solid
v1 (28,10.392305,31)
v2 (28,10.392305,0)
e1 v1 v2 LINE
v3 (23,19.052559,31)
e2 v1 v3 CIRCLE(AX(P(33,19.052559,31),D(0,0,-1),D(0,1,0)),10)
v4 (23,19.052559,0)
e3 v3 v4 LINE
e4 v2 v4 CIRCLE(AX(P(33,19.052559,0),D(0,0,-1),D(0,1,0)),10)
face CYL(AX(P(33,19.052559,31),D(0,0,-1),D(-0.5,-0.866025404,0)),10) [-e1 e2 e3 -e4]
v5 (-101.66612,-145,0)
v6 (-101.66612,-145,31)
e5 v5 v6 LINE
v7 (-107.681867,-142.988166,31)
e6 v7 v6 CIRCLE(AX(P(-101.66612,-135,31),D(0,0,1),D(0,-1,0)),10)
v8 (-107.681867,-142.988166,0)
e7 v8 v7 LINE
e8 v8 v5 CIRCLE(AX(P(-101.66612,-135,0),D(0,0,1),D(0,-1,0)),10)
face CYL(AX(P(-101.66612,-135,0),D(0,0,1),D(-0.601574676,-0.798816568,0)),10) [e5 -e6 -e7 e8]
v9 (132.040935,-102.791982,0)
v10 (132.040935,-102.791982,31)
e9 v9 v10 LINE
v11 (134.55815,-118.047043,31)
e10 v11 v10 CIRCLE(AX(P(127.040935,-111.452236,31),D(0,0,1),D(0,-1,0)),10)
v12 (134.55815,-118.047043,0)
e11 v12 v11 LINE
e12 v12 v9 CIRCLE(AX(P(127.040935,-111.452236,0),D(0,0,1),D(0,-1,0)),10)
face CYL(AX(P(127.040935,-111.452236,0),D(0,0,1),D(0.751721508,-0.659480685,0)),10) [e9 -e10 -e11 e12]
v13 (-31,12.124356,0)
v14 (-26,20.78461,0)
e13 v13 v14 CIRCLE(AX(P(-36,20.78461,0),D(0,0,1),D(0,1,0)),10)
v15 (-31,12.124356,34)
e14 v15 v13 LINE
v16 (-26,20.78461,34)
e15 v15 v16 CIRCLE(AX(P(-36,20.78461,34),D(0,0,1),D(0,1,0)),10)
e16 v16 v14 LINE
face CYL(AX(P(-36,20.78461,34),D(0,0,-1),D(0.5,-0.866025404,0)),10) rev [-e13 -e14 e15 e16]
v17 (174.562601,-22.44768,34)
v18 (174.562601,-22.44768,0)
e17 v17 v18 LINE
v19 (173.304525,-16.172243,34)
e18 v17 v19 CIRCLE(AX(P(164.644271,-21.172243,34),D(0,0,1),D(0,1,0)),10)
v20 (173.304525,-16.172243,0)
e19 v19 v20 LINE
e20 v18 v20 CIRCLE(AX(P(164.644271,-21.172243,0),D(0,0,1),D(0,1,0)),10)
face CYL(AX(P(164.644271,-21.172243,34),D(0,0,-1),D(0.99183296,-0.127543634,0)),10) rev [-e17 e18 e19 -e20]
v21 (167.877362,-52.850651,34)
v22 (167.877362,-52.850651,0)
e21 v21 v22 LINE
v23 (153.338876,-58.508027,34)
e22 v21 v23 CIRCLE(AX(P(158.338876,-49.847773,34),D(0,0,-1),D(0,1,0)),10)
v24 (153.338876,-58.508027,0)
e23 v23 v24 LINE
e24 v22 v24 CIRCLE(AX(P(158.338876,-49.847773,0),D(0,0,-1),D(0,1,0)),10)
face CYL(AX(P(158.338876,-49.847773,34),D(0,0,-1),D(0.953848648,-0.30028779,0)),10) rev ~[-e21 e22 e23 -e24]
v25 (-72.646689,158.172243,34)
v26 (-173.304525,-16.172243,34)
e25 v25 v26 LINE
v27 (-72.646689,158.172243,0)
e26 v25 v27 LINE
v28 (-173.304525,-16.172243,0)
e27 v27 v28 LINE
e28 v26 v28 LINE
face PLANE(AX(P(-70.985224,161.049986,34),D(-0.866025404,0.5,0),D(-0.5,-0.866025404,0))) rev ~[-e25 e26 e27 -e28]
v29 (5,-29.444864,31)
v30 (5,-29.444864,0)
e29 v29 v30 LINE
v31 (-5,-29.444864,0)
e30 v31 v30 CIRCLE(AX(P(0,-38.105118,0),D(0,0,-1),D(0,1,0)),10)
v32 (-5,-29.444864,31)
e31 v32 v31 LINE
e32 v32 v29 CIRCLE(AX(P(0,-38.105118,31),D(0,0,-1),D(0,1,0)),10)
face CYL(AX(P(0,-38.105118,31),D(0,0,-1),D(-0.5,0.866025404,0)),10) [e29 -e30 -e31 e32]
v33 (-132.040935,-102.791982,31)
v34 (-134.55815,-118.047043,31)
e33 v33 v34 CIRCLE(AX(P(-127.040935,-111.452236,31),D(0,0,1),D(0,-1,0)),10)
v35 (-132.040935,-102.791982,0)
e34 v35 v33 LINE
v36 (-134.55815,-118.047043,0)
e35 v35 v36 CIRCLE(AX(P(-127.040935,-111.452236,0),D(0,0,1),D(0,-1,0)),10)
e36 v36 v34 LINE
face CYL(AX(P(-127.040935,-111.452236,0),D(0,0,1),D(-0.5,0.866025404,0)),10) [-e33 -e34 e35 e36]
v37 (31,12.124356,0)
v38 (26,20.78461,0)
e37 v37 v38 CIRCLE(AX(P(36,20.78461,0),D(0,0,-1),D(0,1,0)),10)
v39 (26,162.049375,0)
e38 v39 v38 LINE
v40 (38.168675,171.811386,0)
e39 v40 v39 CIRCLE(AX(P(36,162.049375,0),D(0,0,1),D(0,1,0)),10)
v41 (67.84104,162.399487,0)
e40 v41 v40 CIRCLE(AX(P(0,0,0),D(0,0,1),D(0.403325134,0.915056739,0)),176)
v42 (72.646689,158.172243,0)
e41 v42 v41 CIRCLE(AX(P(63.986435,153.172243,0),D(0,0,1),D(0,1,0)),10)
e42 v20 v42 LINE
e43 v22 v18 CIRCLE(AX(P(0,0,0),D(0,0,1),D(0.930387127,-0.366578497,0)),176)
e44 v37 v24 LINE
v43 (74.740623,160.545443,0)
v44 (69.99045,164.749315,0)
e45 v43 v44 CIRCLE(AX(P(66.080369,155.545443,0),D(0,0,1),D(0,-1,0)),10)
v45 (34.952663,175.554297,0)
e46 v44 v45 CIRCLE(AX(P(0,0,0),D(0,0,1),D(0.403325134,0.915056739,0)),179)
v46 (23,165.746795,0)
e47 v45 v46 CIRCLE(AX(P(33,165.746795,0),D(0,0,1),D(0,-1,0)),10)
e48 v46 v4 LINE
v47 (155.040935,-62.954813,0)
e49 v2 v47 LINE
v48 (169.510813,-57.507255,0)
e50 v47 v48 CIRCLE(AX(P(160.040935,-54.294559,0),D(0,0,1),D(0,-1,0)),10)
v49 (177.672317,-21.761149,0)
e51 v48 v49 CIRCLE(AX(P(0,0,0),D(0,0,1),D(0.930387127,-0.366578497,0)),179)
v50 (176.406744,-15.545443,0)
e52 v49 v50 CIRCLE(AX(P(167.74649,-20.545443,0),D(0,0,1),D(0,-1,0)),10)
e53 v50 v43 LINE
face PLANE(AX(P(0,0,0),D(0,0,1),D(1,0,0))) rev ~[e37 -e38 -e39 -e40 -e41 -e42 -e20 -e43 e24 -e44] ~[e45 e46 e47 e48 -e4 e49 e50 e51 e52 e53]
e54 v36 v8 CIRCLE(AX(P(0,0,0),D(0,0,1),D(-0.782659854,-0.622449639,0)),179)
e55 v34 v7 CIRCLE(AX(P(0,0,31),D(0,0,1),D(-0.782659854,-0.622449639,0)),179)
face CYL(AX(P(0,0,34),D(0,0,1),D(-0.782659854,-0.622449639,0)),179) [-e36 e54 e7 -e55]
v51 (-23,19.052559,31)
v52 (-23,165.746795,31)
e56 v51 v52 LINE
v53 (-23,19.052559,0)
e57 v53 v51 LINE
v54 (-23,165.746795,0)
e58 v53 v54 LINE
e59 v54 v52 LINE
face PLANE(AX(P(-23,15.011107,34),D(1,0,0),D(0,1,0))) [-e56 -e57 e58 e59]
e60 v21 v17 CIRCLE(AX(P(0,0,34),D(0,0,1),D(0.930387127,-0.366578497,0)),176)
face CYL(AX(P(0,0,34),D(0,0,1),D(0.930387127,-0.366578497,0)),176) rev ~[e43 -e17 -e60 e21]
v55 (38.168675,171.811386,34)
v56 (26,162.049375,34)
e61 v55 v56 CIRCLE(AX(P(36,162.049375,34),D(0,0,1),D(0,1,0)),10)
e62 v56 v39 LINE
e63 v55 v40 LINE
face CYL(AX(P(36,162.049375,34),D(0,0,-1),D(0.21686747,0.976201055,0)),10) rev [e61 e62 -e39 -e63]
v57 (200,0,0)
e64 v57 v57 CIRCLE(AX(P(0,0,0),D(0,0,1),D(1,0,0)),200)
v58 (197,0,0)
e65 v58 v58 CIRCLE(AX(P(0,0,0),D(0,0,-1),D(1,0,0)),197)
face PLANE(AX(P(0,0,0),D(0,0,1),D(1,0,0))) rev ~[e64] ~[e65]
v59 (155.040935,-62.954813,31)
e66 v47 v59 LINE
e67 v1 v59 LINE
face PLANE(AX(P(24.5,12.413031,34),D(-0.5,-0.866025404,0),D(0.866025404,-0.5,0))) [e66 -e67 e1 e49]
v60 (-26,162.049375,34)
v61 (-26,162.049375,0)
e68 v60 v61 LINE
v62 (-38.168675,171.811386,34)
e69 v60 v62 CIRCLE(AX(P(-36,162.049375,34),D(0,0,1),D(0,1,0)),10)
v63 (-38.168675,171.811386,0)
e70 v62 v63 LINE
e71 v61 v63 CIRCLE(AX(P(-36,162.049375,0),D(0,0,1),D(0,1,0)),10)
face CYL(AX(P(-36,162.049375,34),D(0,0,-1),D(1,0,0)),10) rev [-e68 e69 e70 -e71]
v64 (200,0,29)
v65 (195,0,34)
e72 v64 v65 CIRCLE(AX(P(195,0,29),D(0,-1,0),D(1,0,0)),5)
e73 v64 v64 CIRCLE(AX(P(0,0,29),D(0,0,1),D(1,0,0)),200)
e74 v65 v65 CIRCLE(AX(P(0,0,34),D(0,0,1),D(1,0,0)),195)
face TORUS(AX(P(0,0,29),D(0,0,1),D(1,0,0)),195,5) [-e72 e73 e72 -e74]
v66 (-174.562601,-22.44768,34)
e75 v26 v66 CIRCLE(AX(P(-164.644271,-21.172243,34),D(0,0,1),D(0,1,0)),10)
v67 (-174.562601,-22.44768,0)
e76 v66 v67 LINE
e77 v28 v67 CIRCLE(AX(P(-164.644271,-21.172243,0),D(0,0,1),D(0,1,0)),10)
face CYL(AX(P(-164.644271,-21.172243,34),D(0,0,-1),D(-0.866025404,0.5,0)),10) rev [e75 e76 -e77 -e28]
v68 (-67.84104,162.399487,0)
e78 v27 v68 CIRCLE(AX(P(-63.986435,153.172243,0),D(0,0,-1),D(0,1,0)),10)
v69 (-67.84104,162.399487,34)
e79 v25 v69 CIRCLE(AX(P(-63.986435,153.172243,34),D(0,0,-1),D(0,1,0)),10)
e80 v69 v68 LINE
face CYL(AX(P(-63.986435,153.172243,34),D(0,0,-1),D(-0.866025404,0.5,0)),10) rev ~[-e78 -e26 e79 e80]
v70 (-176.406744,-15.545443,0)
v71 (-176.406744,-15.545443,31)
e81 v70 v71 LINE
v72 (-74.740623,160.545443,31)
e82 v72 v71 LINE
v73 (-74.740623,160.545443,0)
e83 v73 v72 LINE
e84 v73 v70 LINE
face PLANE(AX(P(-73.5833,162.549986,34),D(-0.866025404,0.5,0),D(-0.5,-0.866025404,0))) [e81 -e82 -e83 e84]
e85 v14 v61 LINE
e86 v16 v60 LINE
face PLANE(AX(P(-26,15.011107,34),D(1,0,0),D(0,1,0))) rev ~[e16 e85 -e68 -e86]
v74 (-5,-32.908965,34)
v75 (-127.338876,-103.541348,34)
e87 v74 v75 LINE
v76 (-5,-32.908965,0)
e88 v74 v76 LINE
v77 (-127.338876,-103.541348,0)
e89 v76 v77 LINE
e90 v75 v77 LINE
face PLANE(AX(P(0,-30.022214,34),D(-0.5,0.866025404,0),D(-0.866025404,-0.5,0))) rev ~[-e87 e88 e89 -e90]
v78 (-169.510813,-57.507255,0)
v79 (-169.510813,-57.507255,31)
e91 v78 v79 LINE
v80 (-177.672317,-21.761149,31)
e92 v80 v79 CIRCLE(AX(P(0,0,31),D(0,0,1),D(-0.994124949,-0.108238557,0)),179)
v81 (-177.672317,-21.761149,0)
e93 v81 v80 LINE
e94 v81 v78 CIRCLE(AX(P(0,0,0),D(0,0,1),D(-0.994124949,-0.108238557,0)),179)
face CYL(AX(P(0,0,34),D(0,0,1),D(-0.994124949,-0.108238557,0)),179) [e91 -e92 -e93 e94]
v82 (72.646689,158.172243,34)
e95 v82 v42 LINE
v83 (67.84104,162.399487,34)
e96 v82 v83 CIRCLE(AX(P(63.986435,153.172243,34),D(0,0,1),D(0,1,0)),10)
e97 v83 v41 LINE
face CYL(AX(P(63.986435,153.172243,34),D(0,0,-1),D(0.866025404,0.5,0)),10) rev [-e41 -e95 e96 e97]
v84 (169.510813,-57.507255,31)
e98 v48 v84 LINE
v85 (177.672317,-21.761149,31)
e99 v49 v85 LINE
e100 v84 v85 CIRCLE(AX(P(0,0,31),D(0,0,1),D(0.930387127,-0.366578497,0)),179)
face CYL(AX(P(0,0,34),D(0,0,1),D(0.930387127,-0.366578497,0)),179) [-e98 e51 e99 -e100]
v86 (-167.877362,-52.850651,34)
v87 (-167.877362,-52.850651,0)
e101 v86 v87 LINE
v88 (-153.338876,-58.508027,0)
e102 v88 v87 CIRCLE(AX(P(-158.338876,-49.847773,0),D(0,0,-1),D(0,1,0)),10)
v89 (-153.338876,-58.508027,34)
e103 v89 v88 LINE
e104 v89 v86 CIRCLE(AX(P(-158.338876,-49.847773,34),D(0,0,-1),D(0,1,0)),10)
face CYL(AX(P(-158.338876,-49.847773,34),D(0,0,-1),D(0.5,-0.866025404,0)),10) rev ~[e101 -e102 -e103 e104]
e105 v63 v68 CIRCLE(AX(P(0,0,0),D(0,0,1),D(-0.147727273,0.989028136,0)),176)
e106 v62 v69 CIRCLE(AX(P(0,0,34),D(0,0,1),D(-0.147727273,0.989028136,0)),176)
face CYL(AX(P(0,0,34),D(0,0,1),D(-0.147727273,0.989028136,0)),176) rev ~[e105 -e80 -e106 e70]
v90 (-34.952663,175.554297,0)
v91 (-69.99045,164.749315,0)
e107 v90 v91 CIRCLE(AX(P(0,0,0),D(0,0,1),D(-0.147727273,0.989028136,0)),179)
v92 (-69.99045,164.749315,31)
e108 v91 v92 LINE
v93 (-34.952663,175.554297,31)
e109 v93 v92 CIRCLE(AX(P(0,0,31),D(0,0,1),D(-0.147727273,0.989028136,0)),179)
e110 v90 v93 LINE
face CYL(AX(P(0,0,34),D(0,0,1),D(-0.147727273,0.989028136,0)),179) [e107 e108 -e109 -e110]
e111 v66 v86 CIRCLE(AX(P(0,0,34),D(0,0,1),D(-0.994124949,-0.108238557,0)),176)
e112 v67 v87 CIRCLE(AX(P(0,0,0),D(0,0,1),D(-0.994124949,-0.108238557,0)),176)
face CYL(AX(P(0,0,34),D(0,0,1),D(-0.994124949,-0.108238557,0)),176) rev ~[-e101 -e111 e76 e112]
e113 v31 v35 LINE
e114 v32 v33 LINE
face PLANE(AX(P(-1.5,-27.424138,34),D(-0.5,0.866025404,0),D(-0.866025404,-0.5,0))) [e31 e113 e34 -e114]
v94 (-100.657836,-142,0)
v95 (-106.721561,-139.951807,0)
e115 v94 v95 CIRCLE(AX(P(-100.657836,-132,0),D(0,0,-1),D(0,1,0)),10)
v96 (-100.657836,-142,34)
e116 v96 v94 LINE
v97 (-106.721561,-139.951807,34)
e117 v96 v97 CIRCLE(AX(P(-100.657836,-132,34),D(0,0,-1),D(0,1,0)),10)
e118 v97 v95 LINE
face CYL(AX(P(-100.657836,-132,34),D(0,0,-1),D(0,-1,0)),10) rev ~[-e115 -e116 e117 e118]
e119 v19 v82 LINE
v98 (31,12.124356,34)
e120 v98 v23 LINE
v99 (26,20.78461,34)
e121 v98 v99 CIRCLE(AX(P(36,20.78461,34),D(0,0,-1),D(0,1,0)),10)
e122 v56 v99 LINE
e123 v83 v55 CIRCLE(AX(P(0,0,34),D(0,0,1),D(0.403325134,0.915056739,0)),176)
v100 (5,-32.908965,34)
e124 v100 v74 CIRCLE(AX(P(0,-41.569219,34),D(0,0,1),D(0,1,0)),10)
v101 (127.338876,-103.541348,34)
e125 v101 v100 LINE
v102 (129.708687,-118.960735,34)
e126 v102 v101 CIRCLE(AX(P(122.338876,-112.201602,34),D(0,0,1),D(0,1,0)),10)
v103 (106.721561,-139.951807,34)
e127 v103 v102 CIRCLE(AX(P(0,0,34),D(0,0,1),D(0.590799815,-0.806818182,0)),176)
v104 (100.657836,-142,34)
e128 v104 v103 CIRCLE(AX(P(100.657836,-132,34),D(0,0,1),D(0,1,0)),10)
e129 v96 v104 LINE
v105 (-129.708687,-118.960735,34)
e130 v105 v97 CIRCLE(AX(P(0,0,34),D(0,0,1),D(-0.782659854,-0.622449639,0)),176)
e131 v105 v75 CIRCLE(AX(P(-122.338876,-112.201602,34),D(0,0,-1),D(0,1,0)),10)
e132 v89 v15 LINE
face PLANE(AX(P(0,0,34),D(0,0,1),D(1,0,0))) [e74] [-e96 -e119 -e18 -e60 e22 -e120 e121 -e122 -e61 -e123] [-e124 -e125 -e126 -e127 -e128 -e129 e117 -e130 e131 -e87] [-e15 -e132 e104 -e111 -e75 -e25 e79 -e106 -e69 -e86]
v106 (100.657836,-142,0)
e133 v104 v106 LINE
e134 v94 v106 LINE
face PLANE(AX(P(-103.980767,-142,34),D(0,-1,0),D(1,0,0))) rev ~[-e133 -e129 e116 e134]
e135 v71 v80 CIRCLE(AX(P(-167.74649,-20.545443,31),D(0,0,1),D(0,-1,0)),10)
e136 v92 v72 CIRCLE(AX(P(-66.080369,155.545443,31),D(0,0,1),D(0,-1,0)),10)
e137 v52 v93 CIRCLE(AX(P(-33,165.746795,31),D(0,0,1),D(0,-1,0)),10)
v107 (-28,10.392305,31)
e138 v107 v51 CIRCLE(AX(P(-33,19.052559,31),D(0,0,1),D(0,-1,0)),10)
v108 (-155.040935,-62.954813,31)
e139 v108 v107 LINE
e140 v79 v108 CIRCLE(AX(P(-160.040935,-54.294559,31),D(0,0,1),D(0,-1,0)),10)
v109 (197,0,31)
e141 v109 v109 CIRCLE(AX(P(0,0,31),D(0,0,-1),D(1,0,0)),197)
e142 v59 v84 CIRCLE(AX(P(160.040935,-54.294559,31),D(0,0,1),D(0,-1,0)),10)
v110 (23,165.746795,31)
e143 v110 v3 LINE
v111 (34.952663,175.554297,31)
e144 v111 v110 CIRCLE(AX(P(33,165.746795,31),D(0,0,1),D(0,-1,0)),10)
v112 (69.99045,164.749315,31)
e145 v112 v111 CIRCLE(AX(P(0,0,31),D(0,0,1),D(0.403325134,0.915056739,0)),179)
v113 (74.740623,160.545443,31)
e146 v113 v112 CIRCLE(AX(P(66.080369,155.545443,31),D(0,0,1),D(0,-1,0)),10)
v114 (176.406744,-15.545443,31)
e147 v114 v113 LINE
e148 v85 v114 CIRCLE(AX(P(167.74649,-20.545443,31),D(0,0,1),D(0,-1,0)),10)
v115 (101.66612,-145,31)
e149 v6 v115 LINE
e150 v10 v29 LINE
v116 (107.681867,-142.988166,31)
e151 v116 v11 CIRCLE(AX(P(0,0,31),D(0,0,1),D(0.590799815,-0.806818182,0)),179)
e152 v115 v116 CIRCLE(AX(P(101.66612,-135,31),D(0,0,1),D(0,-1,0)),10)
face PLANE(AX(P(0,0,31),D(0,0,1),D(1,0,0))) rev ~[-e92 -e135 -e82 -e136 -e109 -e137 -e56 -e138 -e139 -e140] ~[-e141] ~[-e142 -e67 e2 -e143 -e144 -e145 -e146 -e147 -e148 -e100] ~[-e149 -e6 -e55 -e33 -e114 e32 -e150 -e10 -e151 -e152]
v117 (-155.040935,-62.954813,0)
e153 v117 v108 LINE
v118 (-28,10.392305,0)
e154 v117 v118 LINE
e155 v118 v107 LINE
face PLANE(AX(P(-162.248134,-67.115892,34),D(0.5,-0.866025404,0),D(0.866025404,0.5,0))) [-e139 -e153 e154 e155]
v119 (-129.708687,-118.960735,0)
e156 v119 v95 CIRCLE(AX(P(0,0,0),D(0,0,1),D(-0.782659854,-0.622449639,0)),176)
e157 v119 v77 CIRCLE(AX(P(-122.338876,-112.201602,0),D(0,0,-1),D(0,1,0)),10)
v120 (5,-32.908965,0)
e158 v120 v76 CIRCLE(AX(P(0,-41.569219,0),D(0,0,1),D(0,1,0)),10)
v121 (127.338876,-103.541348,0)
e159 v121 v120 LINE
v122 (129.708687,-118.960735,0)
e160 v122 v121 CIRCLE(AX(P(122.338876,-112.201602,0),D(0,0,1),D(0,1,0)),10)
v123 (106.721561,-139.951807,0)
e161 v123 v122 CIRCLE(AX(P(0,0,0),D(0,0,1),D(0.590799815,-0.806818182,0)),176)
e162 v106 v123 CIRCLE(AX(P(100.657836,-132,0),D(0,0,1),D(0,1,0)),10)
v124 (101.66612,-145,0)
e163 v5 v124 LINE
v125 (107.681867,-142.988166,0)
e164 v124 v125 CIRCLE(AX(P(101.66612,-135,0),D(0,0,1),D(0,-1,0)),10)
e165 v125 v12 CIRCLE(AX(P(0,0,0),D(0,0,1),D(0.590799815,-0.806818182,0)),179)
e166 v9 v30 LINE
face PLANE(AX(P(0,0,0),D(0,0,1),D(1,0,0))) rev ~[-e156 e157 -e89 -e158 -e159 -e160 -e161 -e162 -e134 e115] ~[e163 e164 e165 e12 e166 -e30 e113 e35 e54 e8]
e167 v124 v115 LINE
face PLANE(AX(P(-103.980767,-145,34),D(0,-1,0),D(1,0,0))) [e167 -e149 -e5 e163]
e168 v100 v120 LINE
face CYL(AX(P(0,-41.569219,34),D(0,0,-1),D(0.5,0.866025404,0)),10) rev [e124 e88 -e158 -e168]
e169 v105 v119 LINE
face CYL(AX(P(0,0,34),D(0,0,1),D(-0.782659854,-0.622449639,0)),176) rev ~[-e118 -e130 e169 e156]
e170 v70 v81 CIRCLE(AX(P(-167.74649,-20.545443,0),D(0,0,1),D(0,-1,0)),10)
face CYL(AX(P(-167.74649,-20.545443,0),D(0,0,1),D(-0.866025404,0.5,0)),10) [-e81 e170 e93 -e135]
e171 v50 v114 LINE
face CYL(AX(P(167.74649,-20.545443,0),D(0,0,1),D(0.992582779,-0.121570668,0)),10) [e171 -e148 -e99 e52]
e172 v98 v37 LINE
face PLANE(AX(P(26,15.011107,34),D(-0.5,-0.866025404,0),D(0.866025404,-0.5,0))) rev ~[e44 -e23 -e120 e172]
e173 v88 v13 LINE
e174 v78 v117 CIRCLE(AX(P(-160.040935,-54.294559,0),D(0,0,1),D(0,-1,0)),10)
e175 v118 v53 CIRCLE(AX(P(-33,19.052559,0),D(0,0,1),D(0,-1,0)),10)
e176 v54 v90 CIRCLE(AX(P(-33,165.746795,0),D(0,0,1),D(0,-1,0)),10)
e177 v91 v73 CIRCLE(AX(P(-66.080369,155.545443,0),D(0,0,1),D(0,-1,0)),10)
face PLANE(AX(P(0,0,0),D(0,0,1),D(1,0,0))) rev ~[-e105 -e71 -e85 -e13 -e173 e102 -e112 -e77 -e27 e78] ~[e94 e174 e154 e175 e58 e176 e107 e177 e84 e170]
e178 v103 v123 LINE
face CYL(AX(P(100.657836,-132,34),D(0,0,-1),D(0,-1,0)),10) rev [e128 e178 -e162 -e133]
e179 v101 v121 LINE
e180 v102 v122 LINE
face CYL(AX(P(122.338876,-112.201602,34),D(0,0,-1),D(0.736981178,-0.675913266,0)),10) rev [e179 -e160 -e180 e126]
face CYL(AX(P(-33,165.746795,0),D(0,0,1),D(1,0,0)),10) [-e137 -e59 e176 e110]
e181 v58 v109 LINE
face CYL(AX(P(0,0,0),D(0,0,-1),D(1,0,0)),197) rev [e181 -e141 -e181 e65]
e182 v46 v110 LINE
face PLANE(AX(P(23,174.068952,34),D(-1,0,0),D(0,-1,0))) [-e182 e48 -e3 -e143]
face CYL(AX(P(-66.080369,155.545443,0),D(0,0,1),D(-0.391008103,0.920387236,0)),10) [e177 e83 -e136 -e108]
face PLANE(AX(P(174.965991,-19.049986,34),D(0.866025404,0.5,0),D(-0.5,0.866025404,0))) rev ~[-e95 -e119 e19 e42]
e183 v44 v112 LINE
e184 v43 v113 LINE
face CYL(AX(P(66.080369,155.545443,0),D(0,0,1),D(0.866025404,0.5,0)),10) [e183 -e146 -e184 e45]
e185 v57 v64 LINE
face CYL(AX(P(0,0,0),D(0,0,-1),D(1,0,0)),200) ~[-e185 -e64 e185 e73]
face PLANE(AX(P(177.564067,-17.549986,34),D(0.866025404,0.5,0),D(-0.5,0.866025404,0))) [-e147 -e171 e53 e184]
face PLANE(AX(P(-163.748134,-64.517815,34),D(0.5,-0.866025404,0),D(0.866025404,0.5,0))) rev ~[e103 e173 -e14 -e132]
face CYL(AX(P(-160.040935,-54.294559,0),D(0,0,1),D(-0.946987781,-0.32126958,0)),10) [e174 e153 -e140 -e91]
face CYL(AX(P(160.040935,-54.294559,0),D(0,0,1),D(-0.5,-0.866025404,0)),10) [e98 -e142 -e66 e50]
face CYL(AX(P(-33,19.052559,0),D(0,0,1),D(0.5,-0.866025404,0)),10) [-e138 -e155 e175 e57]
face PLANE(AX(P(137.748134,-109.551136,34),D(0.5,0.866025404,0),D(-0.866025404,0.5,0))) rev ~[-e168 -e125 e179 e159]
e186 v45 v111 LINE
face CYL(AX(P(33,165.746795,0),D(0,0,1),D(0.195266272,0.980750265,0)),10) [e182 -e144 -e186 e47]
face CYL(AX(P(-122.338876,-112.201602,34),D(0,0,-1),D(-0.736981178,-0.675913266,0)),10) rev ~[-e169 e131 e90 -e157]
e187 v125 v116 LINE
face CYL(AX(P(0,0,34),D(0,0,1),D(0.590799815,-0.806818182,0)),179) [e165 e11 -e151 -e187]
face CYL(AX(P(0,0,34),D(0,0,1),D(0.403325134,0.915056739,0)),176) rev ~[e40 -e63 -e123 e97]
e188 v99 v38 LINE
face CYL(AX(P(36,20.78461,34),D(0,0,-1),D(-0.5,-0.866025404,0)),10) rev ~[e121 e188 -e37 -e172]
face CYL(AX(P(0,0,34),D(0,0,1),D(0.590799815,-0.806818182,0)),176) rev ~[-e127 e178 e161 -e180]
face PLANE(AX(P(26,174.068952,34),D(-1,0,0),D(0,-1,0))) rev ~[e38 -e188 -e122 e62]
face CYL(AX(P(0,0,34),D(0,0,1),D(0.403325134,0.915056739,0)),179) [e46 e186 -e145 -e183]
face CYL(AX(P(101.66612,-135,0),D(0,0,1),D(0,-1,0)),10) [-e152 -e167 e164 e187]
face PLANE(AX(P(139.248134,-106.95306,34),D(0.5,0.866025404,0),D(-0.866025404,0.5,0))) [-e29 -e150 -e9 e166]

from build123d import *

# Parameters (mm, degrees)
ESBO_O2_R             = 200
EXTRUS_O2_DEPTH       = 34
EXTRUS_O3_DEPTH       = 35
PADR_OCIRCULAR1_COUNT = 3
CASCA1_T              = -3
FILETE1_R             = 10
FILETE2_R             = 10
FILETE3_R             = 10
FILETE4_R             = 10
FILETE5_R             = 10
FILETE6_R             = 10
FILETE7_R             = 10
FILETE8_R             = 10
FILETE9_R             = 10
FILETE10_R            = 10
FILETE11_R            = 10
FILETE12_R            = 10
FILETE13_R            = 10
FILETE14_R            = 10
FILETE15_R            = 10
FILETE16_R            = 10
FILETE17_R            = 10
FILETE18_R            = 10
FILETE19_R            = 5


with BuildPart() as part:
    # Esboço2 → Extrusão2 (new body)
    with BuildSketch(Plane.XY):
        Circle(ESBO_O2_R)
    extrude(amount=EXTRUS_O2_DEPTH)

    # Esboço4 → Extrusão3 (cut, through all)
    with BuildSketch(Plane.XY.offset(34)):
        with BuildLine():
            Line((-103.980767452, -142), (103.980767452, -142))
            ThreePointArc((103.980767452, -142), (121.948545192, -126.903712812), (137.748134317, -109.551136426))
            Line((137.748134317, -109.551136426), (0, -30.022213998))
            Line((0, -30.022213998), (-137.748134317, -109.551136426))
            ThreePointArc((-137.748134317, -109.551136426), (-121.948545192, -126.903712812), (-103.980767452, -142))
        make_face()
    extrus_o3 = extrude(amount=-EXTRUS_O3_DEPTH, mode=Mode.SUBTRACT)

    # PadrãoCircular1: Extrusão3 ×3 about axis
    padr_ocircular1_axis = Axis((0, 0, 0), (0, 0, 1))
    for i in range(1, PADR_OCIRCULAR1_COUNT):
        add(extrus_o3.rotate(padr_ocircular1_axis, i * 360 / PADR_OCIRCULAR1_COUNT), mode=Mode.SUBTRACT)

    # Casca1
    casca1_openings = [part.faces().sort_by_distance(p)[0] for p in [
        (92.730670551, 53.538077605, 0),
    ]]
    offset(amount=CASCA1_T, openings=casca1_openings, kind=Kind.INTERSECTION)

    # Filete1
    filete1_edges = [part.edges().sort_by_distance(p)[0] for p in [
        (-137.748134317, -109.551136426, 17),
    ]]
    fillet(filete1_edges, radius=FILETE1_R)

    # Filete2
    filete2_edges = [part.edges().sort_by_distance(p)[0] for p in [
        (137.748134317, -109.551136426, 17),
    ]]
    fillet(filete2_edges, radius=FILETE2_R)

    # Filete3
    filete3_edges = [part.edges().sort_by_distance(p)[0] for p in [
        (-26, 174.068951855, 17),
    ]]
    fillet(filete3_edges, radius=FILETE3_R)

    # Filete4
    filete4_edges = [part.edges().sort_by_distance(p)[0] for p in [
        (-163.748134317, -64.517815429, 17),
    ]]
    fillet(filete4_edges, radius=FILETE4_R)

    # Filete5
    filete5_edges = [part.edges().sort_by_distance(p)[0] for p in [
        (26, 174.068951855, 17),
    ]]
    fillet(filete5_edges, radius=FILETE5_R)

    # Filete6
    filete6_edges = [part.edges().sort_by_distance(p)[0] for p in [
        (163.748134317, -64.517815429, 17),
    ]]
    fillet(filete6_edges, radius=FILETE6_R)

    # Filete7
    filete7_edges = [part.edges().sort_by_distance(p)[0] for p in [
        (0, -30.022213998, 17),
    ]]
    fillet(filete7_edges, radius=FILETE7_R)

    # Filete8
    filete8_edges = [part.edges().sort_by_distance(p)[0] for p in [
        (-26, 15.011106999, 17),
    ]]
    fillet(filete8_edges, radius=FILETE8_R)

    # Filete9
    filete9_edges = [part.edges().sort_by_distance(p)[0] for p in [
        (26, 15.011106999, 17),
    ]]
    fillet(filete9_edges, radius=FILETE9_R)

    # Filete10
    filete10_edges = [part.edges().sort_by_distance(p)[0] for p in [
        (-70.985223611, 161.049986119, 17),
    ]]
    fillet(filete10_edges, radius=FILETE10_R)

    # Filete11
    filete11_edges = [part.edges().sort_by_distance(p)[0] for p in [
        (-174.965991064, -19.049986119, 17),
    ]]
    fillet(filete11_edges, radius=FILETE11_R)

    # Filete12
    filete12_edges = [part.edges().sort_by_distance(p)[0] for p in [
        (-103.980767452, -142, 17),
    ]]
    fillet(filete12_edges, radius=FILETE12_R)

    # Filete13
    filete13_edges = [part.edges().sort_by_distance(p)[0] for p in [
        (103.980767452, -142, 17),
    ]]
    fillet(filete13_edges, radius=FILETE13_R)

    # Filete14
    filete14_edges = [part.edges().sort_by_distance(p)[0] for p in [
        (174.965991064, -19.049986119, 17),
    ]]
    fillet(filete14_edges, radius=FILETE14_R)

    # Filete15
    filete15_edges = [part.edges().sort_by_distance(p)[0] for p in [
        (70.985223611, 161.049986119, 17),
    ]]
    fillet(filete15_edges, radius=FILETE15_R)

    # Filete16
    filete16_edges = [part.edges().sort_by_distance(p)[0] for p in [
        (-142.233535704, -108.676682509, 15.5),
        (0, -26.558112383, 15.5),
        (-104.957134107, -145, 15.5),
        (-165.233535704, -68.839513935, 15.5),
        (-178.052250602, -18.395544445, 15.5),
        (-73.095116495, 163.395544445, 15.5),
        (165.233535704, -68.839513935, 15.5),
        (23, 13.279056191, 15.5),
        (23, 177.516196444, 15.5),
    ]]
    fillet(filete16_edges, radius=FILETE16_R)

    # Filete17
    filete17_edges = [part.edges().sort_by_distance(p)[0] for p in [
        (142.233535704, -108.676682509, 15.5),
        (104.957134107, -145, 15.5),
        (-23, 177.516196444, 15.5),
        (-23, 13.279056191, 15.5),
    ]]
    fillet(filete17_edges, radius=FILETE17_R)

    # Filete18
    filete18_edges = [part.edges().sort_by_distance(p)[0] for p in [
        (73.095116495, 163.395544445, 15.5),
        (178.052250602, -18.395544445, 15.5),
    ]]
    fillet(filete18_edges, radius=FILETE18_R)

    # Filete19
    filete19_edges = [part.edges().sort_by_distance(p)[0] for p in [
        (-200, 0, 34),
    ]]
    fillet(filete19_edges, radius=FILETE19_R)


solid = part.part
